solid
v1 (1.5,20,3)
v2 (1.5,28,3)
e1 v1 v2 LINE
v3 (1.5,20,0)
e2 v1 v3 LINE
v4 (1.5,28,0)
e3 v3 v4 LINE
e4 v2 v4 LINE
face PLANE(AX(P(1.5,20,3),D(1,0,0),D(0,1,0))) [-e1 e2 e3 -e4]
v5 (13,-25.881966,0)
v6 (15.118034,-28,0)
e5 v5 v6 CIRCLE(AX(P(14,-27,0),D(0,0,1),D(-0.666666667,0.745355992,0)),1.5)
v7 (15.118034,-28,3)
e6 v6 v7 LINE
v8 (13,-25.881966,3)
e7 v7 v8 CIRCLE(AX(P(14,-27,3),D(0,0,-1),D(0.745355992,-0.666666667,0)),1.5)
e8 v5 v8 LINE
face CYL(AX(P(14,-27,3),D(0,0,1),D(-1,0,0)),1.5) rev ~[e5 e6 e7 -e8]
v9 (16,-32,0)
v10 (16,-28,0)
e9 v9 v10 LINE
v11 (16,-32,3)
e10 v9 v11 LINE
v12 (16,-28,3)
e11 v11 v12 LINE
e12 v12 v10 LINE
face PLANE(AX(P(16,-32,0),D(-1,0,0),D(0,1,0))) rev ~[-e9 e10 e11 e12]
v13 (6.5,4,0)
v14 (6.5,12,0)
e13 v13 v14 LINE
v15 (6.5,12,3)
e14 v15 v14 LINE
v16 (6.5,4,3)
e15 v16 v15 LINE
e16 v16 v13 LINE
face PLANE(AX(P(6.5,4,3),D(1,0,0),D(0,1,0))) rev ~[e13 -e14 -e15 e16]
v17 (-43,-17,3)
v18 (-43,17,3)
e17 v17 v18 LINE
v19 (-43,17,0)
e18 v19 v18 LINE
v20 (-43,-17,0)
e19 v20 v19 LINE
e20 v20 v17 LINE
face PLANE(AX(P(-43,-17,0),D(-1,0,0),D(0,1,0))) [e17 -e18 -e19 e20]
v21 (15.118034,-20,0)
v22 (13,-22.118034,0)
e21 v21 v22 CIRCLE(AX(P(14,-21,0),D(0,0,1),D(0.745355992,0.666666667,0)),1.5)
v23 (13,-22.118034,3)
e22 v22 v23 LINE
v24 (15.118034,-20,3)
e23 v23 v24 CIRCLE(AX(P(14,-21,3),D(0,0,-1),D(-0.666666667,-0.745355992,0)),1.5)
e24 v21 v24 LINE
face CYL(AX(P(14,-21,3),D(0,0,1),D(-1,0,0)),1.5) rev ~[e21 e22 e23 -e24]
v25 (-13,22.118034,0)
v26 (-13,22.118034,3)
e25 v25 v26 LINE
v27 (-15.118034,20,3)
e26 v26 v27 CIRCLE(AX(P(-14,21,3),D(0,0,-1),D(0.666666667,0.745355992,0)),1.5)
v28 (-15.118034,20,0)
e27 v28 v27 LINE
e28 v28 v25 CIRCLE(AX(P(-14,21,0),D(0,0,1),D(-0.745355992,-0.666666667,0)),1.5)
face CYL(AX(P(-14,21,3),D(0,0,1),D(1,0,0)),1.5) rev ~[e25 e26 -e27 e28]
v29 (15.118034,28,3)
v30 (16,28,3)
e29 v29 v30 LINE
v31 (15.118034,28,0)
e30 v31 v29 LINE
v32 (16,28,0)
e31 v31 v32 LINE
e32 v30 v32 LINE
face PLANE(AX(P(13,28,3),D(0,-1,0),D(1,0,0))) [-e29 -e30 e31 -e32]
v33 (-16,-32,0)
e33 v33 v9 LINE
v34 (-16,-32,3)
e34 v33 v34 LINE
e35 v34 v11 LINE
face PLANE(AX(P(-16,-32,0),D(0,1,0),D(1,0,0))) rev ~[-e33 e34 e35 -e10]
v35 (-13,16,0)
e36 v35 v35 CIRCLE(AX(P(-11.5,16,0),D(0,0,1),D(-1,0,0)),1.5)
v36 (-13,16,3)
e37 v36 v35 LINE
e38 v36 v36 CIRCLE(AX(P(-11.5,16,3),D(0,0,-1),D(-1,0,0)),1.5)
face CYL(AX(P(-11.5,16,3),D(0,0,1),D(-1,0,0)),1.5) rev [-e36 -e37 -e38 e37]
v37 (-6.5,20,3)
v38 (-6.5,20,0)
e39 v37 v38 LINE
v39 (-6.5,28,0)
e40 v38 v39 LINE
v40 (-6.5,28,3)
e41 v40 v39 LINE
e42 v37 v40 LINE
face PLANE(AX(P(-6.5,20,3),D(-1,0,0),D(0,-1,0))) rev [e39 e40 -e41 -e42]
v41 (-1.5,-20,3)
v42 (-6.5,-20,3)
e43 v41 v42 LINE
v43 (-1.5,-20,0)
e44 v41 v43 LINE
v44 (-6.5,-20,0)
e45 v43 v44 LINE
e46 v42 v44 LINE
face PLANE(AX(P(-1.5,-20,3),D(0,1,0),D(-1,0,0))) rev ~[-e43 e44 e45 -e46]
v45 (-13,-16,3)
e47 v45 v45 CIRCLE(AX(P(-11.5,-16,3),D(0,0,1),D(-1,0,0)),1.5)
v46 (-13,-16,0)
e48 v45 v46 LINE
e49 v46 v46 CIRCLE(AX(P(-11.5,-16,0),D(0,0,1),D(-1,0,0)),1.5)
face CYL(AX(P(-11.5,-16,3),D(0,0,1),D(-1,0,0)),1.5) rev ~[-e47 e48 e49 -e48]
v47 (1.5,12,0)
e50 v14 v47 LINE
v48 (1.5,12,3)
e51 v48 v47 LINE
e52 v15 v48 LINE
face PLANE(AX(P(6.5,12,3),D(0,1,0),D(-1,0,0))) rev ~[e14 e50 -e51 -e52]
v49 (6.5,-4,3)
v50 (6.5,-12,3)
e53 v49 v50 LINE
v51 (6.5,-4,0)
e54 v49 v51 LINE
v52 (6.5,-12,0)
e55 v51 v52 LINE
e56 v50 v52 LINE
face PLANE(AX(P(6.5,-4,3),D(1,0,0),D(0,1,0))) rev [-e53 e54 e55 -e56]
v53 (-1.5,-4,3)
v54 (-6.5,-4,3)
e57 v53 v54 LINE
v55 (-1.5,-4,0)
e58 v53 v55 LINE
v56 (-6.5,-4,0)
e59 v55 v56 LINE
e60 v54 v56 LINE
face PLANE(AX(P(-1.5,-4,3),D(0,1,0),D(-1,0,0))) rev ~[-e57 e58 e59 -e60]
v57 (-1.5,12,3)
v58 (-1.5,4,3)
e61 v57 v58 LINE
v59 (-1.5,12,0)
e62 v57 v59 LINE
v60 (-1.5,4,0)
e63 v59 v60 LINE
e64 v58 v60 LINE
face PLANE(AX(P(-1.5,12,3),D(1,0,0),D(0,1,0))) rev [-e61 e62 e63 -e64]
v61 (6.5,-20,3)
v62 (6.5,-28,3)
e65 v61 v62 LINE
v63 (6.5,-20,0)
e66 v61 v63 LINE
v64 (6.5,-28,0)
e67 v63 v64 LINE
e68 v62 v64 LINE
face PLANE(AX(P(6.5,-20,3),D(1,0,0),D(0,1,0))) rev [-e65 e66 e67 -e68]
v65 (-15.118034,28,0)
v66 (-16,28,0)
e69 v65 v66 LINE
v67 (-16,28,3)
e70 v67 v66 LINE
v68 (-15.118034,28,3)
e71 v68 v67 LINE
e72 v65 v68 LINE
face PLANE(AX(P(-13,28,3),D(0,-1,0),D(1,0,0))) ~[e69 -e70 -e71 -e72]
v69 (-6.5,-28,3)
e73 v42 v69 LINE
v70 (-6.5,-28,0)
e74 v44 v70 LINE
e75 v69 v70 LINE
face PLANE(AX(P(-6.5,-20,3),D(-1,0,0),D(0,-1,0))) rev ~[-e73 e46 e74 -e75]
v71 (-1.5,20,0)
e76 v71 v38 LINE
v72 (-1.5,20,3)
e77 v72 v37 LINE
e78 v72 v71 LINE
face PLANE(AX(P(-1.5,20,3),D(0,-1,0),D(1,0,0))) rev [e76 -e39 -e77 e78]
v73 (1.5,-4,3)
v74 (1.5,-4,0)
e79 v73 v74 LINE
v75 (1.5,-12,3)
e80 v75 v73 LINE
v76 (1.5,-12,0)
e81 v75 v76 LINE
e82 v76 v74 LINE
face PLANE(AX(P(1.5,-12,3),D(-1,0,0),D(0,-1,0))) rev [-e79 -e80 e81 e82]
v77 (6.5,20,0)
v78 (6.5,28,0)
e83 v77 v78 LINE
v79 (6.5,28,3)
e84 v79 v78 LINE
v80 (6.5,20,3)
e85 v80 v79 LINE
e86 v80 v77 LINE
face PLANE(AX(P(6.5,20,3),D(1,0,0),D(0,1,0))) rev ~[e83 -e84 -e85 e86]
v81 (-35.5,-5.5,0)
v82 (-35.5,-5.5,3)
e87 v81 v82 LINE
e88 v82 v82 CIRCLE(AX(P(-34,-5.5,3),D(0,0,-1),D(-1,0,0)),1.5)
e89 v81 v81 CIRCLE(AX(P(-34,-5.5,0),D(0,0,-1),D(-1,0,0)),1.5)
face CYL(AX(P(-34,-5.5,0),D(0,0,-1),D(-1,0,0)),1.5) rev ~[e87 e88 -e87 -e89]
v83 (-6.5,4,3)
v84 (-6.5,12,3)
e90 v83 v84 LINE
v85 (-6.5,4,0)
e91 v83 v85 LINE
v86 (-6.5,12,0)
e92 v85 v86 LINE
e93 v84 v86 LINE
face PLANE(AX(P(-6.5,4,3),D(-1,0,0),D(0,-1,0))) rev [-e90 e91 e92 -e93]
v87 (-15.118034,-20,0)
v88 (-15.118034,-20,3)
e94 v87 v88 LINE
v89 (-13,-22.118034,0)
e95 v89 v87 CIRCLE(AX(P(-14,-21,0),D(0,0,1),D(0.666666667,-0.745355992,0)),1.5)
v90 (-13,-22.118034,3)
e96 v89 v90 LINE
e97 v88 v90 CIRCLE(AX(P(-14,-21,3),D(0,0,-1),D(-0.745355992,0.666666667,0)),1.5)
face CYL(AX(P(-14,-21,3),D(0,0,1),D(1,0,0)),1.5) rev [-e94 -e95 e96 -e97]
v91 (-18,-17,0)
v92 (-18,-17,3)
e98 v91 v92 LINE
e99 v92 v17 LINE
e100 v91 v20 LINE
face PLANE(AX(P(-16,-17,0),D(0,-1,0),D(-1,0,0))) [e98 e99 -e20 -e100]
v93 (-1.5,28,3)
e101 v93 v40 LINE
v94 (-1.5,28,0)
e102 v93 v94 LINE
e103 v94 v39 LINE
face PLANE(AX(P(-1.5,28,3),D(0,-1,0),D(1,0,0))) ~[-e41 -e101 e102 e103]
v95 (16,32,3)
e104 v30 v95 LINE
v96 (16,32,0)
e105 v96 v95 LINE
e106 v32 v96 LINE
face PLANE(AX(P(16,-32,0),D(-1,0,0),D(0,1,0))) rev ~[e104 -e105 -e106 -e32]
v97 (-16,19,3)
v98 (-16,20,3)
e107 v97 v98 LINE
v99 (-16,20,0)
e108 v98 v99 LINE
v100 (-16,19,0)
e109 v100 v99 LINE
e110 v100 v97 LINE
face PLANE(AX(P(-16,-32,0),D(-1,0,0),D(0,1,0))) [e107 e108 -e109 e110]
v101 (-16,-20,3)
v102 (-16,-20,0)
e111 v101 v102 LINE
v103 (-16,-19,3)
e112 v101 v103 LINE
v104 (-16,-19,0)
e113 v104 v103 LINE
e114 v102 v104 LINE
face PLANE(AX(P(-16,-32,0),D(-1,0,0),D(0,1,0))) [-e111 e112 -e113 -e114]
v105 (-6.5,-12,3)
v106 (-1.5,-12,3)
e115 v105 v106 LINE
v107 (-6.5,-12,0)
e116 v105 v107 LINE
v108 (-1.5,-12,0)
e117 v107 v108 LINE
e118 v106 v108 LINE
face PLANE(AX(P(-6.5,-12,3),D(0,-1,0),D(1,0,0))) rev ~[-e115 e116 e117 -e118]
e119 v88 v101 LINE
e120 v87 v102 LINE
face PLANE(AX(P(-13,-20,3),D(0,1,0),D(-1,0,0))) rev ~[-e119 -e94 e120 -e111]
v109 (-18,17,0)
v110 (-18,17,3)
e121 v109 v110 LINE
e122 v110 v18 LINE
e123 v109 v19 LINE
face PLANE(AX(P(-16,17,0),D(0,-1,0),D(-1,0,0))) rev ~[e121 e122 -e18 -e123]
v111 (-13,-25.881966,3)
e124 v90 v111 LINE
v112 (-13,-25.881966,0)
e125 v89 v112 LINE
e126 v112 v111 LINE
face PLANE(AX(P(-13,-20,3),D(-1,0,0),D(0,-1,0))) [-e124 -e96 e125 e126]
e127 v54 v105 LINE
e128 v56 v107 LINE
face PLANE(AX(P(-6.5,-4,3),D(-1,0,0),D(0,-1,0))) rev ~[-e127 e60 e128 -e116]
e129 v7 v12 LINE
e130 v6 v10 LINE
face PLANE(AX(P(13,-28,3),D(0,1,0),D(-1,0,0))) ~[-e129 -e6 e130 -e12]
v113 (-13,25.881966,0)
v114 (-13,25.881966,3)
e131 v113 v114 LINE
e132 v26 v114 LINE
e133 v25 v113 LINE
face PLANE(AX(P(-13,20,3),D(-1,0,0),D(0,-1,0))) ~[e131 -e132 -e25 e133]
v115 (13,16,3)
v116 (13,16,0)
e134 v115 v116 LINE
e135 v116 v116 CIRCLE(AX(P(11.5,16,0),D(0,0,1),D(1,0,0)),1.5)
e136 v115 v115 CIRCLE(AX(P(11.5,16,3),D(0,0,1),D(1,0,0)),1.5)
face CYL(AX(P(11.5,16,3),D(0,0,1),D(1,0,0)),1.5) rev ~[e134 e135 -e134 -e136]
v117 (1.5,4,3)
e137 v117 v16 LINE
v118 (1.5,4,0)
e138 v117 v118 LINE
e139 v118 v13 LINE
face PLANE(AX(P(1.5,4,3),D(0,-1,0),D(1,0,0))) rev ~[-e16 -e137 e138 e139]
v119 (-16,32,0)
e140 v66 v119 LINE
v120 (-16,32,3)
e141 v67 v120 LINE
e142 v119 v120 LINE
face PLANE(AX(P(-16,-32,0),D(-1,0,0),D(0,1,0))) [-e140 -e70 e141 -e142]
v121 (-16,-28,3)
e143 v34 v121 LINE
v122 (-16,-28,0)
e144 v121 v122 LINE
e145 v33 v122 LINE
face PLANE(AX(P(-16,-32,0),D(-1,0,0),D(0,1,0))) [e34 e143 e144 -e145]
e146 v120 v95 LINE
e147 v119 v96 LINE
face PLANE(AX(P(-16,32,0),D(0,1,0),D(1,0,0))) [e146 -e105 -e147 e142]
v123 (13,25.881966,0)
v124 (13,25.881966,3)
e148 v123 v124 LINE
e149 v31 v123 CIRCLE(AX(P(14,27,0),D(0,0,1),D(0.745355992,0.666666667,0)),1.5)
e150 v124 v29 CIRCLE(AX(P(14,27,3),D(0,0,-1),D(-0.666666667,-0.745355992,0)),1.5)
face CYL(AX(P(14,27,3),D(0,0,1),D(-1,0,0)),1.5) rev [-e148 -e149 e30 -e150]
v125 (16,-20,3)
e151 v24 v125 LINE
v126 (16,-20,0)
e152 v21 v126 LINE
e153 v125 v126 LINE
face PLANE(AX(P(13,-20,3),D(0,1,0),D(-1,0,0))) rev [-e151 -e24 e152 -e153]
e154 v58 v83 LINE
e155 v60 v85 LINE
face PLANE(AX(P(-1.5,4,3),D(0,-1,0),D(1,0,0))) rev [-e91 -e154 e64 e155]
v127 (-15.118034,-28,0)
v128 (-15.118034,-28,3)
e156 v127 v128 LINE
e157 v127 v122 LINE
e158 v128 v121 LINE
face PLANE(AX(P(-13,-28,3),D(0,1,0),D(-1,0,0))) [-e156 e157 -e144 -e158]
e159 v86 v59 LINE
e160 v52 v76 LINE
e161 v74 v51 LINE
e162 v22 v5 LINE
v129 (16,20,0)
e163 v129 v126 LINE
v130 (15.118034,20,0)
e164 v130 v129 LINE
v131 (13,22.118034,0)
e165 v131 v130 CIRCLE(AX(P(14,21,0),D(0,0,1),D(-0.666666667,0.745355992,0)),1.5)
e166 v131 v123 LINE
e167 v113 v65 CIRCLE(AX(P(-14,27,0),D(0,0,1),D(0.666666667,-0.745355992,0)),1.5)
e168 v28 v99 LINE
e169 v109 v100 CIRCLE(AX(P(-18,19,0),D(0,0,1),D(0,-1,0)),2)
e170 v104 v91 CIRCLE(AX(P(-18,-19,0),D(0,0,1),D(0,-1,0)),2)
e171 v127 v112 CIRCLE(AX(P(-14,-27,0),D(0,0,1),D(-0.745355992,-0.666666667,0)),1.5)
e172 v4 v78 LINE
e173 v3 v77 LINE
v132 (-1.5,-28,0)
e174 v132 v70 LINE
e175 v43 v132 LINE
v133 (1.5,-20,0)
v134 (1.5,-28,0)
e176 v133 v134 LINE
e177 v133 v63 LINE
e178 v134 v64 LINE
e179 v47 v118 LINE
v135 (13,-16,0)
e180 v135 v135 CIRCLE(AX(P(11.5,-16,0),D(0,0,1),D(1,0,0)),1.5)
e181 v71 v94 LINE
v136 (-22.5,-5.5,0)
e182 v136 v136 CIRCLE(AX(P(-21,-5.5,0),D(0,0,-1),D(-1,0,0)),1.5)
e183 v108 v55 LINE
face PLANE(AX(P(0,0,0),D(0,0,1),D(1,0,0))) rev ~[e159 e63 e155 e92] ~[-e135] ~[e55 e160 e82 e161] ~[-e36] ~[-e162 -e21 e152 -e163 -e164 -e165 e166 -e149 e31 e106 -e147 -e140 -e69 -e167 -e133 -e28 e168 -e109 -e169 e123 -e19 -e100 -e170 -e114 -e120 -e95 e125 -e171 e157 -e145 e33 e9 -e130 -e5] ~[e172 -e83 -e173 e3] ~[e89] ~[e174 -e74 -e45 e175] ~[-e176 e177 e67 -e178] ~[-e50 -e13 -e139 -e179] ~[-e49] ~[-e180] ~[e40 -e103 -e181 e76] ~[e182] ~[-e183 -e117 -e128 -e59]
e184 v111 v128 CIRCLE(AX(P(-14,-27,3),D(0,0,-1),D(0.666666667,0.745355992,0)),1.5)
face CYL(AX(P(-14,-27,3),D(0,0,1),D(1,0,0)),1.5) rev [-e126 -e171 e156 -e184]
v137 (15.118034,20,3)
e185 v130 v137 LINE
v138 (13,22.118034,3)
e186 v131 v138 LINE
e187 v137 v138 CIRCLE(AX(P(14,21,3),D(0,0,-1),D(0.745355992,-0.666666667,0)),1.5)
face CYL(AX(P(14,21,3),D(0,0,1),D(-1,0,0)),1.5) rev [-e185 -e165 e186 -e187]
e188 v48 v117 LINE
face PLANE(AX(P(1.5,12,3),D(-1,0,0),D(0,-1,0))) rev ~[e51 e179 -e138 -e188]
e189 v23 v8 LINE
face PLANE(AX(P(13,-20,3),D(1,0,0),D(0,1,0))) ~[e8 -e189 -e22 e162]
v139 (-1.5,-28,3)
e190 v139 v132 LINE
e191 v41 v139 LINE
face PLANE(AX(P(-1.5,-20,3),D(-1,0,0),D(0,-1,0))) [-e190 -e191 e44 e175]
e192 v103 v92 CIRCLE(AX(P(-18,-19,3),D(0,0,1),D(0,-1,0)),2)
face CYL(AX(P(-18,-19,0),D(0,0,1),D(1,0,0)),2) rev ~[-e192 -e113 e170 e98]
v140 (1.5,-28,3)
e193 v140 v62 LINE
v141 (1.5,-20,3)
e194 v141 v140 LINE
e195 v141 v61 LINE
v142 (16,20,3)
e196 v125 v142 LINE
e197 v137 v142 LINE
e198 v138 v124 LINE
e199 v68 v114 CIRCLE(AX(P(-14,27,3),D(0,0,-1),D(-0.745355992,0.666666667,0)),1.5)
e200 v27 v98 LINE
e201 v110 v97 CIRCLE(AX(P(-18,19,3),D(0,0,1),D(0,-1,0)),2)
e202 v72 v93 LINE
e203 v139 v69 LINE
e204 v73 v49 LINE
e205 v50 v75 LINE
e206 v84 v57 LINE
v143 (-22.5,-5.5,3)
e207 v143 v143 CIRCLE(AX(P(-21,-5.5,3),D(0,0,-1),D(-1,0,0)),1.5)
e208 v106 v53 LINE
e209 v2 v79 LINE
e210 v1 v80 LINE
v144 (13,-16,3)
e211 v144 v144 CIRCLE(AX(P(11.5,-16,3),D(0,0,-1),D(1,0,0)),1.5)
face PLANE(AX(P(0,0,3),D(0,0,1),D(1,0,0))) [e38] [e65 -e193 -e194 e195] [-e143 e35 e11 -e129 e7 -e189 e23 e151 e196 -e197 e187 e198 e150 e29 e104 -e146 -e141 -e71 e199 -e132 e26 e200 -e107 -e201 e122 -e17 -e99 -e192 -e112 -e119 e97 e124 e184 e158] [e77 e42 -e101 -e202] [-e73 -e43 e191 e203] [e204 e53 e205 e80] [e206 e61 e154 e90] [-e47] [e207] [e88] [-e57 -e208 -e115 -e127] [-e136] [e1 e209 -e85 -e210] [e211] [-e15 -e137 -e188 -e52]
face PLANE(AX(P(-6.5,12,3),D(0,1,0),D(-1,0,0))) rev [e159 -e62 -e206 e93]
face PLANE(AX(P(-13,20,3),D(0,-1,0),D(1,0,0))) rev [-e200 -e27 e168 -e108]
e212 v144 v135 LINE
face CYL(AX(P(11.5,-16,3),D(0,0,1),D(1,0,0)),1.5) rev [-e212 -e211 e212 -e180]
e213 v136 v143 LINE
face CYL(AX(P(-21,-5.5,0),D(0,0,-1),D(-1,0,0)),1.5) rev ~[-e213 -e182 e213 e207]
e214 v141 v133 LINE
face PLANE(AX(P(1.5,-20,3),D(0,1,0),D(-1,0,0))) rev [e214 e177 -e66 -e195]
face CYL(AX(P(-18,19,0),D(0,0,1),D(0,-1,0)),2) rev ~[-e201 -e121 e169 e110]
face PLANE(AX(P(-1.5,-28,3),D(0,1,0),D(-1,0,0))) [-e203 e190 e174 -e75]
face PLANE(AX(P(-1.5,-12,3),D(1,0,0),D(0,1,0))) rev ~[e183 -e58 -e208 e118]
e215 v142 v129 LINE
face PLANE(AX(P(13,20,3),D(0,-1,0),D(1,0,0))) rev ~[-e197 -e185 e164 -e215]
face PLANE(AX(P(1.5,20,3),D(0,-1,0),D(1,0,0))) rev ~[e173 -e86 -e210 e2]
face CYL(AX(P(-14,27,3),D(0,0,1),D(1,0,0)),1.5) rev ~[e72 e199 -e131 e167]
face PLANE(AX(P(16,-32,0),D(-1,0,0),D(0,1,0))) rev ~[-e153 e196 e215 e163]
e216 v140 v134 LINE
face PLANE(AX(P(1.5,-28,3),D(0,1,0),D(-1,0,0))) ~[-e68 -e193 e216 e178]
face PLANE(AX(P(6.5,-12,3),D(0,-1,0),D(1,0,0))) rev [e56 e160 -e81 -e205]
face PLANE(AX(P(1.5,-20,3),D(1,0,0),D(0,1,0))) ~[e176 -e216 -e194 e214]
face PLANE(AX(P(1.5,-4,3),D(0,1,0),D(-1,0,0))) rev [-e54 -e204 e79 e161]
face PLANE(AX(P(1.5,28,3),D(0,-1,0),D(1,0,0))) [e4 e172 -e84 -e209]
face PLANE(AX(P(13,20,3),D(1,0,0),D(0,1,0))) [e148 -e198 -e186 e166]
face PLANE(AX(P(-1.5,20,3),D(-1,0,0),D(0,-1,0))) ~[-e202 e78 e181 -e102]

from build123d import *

# Parameters (mm, degrees)
SKETCH_1_W                = 32
SKETCH_1_H                = 64
EXTRUDE_1_DEPTH           = 3
SKETCH_2_W                = 2.5
SKETCH_2_H                = 4
CUT_EXTRUDE_1_DEPTH       = 36.902646142
MIRROR_2_COPY_1_SKETCH_W  = 2.5
MIRROR_2_COPY_1_SKETCH_H  = 4
MIRROR_2_COPY_1_DEPTH     = 36.902646142
SKETCH_4_W                = 3
SKETCH_4_H                = 8
CUT_EXTRUDE_3_DEPTH       = 36.902646142
MIRROR_6_COPY_1_SKETCH_W  = 3
MIRROR_6_COPY_1_SKETCH_H  = 8
MIRROR_6_COPY_1_DEPTH     = 36.902646142
SKETCH_6_W                = 3
SKETCH_6_H                = 8
CUT_EXTRUDE_4_DEPTH       = 36.902646142
MIRROR_8_COPY_1_SKETCH_W  = 3
MIRROR_8_COPY_1_SKETCH_H  = 8
MIRROR_8_COPY_1_DEPTH     = 36.902646142
SKETCH_7_R                = 1.5
CUT_EXTRUDE_5_DEPTH       = 36.902646142
MIRROR_10_COPY_1_SKETCH_R = 1.5
MIRROR_10_COPY_1_DEPTH    = 36.902646142
SKETCH_8_R                = 1.5
CUT_EXTRUDE_6_DEPTH       = 36.902646142
MIRROR_12_COPY_1_SKETCH_R = 1.5
MIRROR_12_COPY_1_DEPTH    = 36.902646142
SKETCH_11_R               = 1.5
CUT_EXTRUDE_9_DEPTH       = 36.902646142
MIRROR_16_COPY_1_SKETCH_R = 1.5
MIRROR_16_COPY_1_DEPTH    = 36.902646142
SKETCH_12_W               = 5
SKETCH_12_H               = 8
CUT_EXTRUDE_10_DEPTH      = 36.902646142
MIRROR_18_COPY_1_SKETCH_W = 5
MIRROR_18_COPY_1_SKETCH_H = 8
MIRROR_18_COPY_1_DEPTH    = 36.902646142
SKETCH_13_W               = 3.954651238
SKETCH_13_H               = 10.848263898
SKETCH_13_W_2             = 4.227382692
SKETCH_13_H_2             = 10.655405874
EXTRUDE_2_DEPTH           = 3
SKETCH_14_W               = 27
SKETCH_14_H               = 34
EXTRUDE_3_DEPTH           = 3
SKETCH_15_R               = 1.5
CUT_EXTRUDE_11_DEPTH      = 54.684262126
FILLET_1_R                = 2


with BuildPart() as part:
    # 草图1 → 凸台-拉伸1 (new body)
    with BuildSketch(Plane.XY):
        Rectangle(SKETCH_1_W, SKETCH_1_H)
    extrude(amount=EXTRUDE_1_DEPTH)

    # 草图2 → 切除-拉伸1 (cut, through all)
    with BuildSketch(Plane.XY.offset(3)):
        Polygon((4, 8), (4, 4), (6.5, 4), (6.5, 12), (1.5, 12), (1.5, 8), align=None)
        with Locations((2.75, 6)):
            Rectangle(SKETCH_2_W, SKETCH_2_H)
    cut_extrude_1 = extrude(amount=-CUT_EXTRUDE_1_DEPTH, mode=Mode.SUBTRACT)

    # 镜向1: 切除-拉伸1 across plane
    add(cut_extrude_1.mirror(Plane(origin=(0, 0, 0), x_dir=(0, 0, 1), z_dir=(1, 0, 0))), mode=Mode.SUBTRACT)

    # 镜向2: 切除-拉伸1 across plane
    add(cut_extrude_1.mirror(Plane.ZX), mode=Mode.SUBTRACT)

    # 镜向2 copy 1 sketch → 镜向2 copy 1 (cut, through all)
    with BuildSketch(Plane(origin=(0, 0, 3), x_dir=(-1, 0, 0), z_dir=(0, 0, 1))):
        Polygon((4, 8), (4, 4), (6.5, 4), (6.5, 12), (1.5, 12), (1.5, 8), align=None)
        with Locations((2.75, 6)):
            Rectangle(MIRROR_2_COPY_1_SKETCH_W, MIRROR_2_COPY_1_SKETCH_H)
    extrude(amount=-MIRROR_2_COPY_1_DEPTH, mode=Mode.SUBTRACT)

    # 草图4 → 切除-拉伸3 (cut, through all)
    with BuildSketch(Plane.XY.offset(3)):
        with Locations((14.5, 8)):
            Rectangle(SKETCH_4_W, SKETCH_4_H)
    cut_extrude_3 = extrude(amount=-CUT_EXTRUDE_3_DEPTH, mode=Mode.SUBTRACT)

    # 镜向5: 切除-拉伸3 across plane
    add(cut_extrude_3.mirror(Plane(origin=(0, 0, 0), x_dir=(0, 0, 1), z_dir=(1, 0, 0))), mode=Mode.SUBTRACT)

    # 镜向6: 切除-拉伸3 across plane
    add(cut_extrude_3.mirror(Plane.ZX), mode=Mode.SUBTRACT)

    # 镜向6 copy 1 sketch → 镜向6 copy 1 (cut, through all)
    with BuildSketch(Plane(origin=(0, 0, 3), x_dir=(-1, 0, 0), z_dir=(0, 0, 1))):
        with Locations((14.5, 8)):
            Rectangle(MIRROR_6_COPY_1_SKETCH_W, MIRROR_6_COPY_1_SKETCH_H)
    extrude(amount=-MIRROR_6_COPY_1_DEPTH, mode=Mode.SUBTRACT)

    # 草图6 → 切除-拉伸4 (cut, through all)
    with BuildSketch(Plane.XY.offset(3)):
        with Locations((14.5, 24)):
            Rectangle(SKETCH_6_W, SKETCH_6_H)
    cut_extrude_4 = extrude(amount=-CUT_EXTRUDE_4_DEPTH, mode=Mode.SUBTRACT)

    # 镜向7: 切除-拉伸4 across plane
    add(cut_extrude_4.mirror(Plane(origin=(0, 0, 0), x_dir=(0, 0, 1), z_dir=(1, 0, 0))), mode=Mode.SUBTRACT)

    # 镜向8: 切除-拉伸4 across plane
    add(cut_extrude_4.mirror(Plane.ZX), mode=Mode.SUBTRACT)

    # 镜向8 copy 1 sketch → 镜向8 copy 1 (cut, through all)
    with BuildSketch(Plane(origin=(0, 0, 3), x_dir=(-1, 0, 0), z_dir=(0, 0, 1))):
        with Locations((14.5, 24)):
            Rectangle(MIRROR_8_COPY_1_SKETCH_W, MIRROR_8_COPY_1_SKETCH_H)
    extrude(amount=-MIRROR_8_COPY_1_DEPTH, mode=Mode.SUBTRACT)

    # 草图7 → 切除-拉伸5 (cut, through all)
    with BuildSketch(Plane.XY.offset(3)):
        with Locations((-14, 27)):
            Circle(SKETCH_7_R)
        with Locations((-14, 21)):
            Circle(SKETCH_7_R)
    cut_extrude_5 = extrude(amount=-CUT_EXTRUDE_5_DEPTH, mode=Mode.SUBTRACT)

    # 镜向9: 切除-拉伸5 across plane
    add(cut_extrude_5.mirror(Plane(origin=(0, 0, 0), x_dir=(0, 0, 1), z_dir=(1, 0, 0))), mode=Mode.SUBTRACT)

    # 镜向10: 切除-拉伸5 across plane
    add(cut_extrude_5.mirror(Plane.ZX), mode=Mode.SUBTRACT)

    # 镜向10 copy 1 sketch → 镜向10 copy 1 (cut, through all)
    with BuildSketch(Plane(origin=(0, 0, 3), x_dir=(-1, 0, 0), z_dir=(0, 0, 1))):
        with Locations((-14, 27)):
            Circle(MIRROR_10_COPY_1_SKETCH_R)
        with Locations((-14, 21)):
            Circle(MIRROR_10_COPY_1_SKETCH_R)
    extrude(amount=-MIRROR_10_COPY_1_DEPTH, mode=Mode.SUBTRACT)

    # 草图8 → 切除-拉伸6 (cut, through all)
    with BuildSketch(Plane.XY.offset(3)):
        with Locations((-14, 11)):
            Circle(SKETCH_8_R)
        with Locations((-14, 5)):
            Circle(SKETCH_8_R)
    cut_extrude_6 = extrude(amount=-CUT_EXTRUDE_6_DEPTH, mode=Mode.SUBTRACT)

    # 镜向11: 切除-拉伸6 across plane
    add(cut_extrude_6.mirror(Plane(origin=(0, 0, 0), x_dir=(0, 0, 1), z_dir=(1, 0, 0))), mode=Mode.SUBTRACT)

    # 镜向12: 切除-拉伸6 across plane
    add(cut_extrude_6.mirror(Plane.ZX), mode=Mode.SUBTRACT)

    # 镜向12 copy 1 sketch → 镜向12 copy 1 (cut, through all)
    with BuildSketch(Plane(origin=(0, 0, 3), x_dir=(-1, 0, 0), z_dir=(0, 0, 1))):
        with Locations((-14, 11)):
            Circle(MIRROR_12_COPY_1_SKETCH_R)
        with Locations((-14, 5)):
            Circle(MIRROR_12_COPY_1_SKETCH_R)
    extrude(amount=-MIRROR_12_COPY_1_DEPTH, mode=Mode.SUBTRACT)

    # 草图11 → 切除-拉伸9 (cut, through all)
    with BuildSketch(Plane.XY.offset(3)):
        with Locations((11.5, 16)):
            Circle(SKETCH_11_R)
    cut_extrude_9 = extrude(amount=-CUT_EXTRUDE_9_DEPTH, mode=Mode.SUBTRACT)

    # 镜向15: 切除-拉伸9 across plane
    add(cut_extrude_9.mirror(Plane(origin=(0, 0, 0), x_dir=(0, 0, 1), z_dir=(1, 0, 0))), mode=Mode.SUBTRACT)

    # 镜向16: 切除-拉伸9 across plane
    add(cut_extrude_9.mirror(Plane.ZX), mode=Mode.SUBTRACT)

    # 镜向16 copy 1 sketch → 镜向16 copy 1 (cut, through all)
    with BuildSketch(Plane(origin=(0, 0, 3), x_dir=(-1, 0, 0), z_dir=(0, 0, 1))):
        with Locations((11.5, 16)):
            Circle(MIRROR_16_COPY_1_SKETCH_R)
    extrude(amount=-MIRROR_16_COPY_1_DEPTH, mode=Mode.SUBTRACT)

    # 草图12 → 切除-拉伸10 (cut, through all)
    with BuildSketch(Plane.XY.offset(3)):
        with Locations((4, 24)):
            Rectangle(SKETCH_12_W, SKETCH_12_H)
    cut_extrude_10 = extrude(amount=-CUT_EXTRUDE_10_DEPTH, mode=Mode.SUBTRACT)

    # 镜向17: 切除-拉伸10 across plane
    add(cut_extrude_10.mirror(Plane(origin=(0, 0, 0), x_dir=(0, 0, 1), z_dir=(1, 0, 0))), mode=Mode.SUBTRACT)

    # 镜向18: 切除-拉伸10 across plane
    add(cut_extrude_10.mirror(Plane.ZX), mode=Mode.SUBTRACT)

    # 镜向18 copy 1 sketch → 镜向18 copy 1 (cut, through all)
    with BuildSketch(Plane(origin=(0, 0, 3), x_dir=(-1, 0, 0), z_dir=(0, 0, 1))):
        with Locations((4, 24)):
            Rectangle(MIRROR_18_COPY_1_SKETCH_W, MIRROR_18_COPY_1_SKETCH_H)
    extrude(amount=-MIRROR_18_COPY_1_DEPTH, mode=Mode.SUBTRACT)

    # 草图13 → 凸台-拉伸2 (add)
    with BuildSketch(Plane.XY.offset(3)):
        with Locations((-14.022674381, 8.035470268)):
            Rectangle(SKETCH_13_W, SKETCH_13_H)
        with Locations((13.886308654, 8.035470268)):
            Rectangle(SKETCH_13_W_2, SKETCH_13_H)
        with Locations((13.886308654, -7.875316782)):
            Rectangle(SKETCH_13_W_2, SKETCH_13_H_2)
        with Locations((-14.022674381, -7.875316782)):
            Rectangle(SKETCH_13_W, SKETCH_13_H_2)
    extrude(amount=-EXTRUDE_2_DEPTH)

    # 草图14 → 凸台-拉伸3 (add)
    with BuildSketch(Plane(origin=(0, 0, 0), x_dir=(-1, 0, 0), z_dir=(0, 0, -1))):
        with Locations((29.5, 0)):
            Rectangle(SKETCH_14_W, SKETCH_14_H)
    extrude(amount=-EXTRUDE_3_DEPTH)

    # 草图15 → 切除-拉伸11 (cut, through all)
    with BuildSketch(Plane(origin=(0, 0, 0), x_dir=(-1, 0, 0), z_dir=(0, 0, -1))):
        with Locations((34, -5.5)):
            Circle(SKETCH_15_R)
        with Locations((21, -5.5)):
            Circle(SKETCH_15_R)
    extrude(amount=-CUT_EXTRUDE_11_DEPTH, mode=Mode.SUBTRACT)

    # 圆角1
    fillet_1_edges = [part.edges().sort_by_distance(p)[0] for p in [
        (-16, -17, 1.5),
        (-16, 17, 1.5),
    ]]
    fillet(fillet_1_edges, radius=FILLET_1_R)


solid = part.part
